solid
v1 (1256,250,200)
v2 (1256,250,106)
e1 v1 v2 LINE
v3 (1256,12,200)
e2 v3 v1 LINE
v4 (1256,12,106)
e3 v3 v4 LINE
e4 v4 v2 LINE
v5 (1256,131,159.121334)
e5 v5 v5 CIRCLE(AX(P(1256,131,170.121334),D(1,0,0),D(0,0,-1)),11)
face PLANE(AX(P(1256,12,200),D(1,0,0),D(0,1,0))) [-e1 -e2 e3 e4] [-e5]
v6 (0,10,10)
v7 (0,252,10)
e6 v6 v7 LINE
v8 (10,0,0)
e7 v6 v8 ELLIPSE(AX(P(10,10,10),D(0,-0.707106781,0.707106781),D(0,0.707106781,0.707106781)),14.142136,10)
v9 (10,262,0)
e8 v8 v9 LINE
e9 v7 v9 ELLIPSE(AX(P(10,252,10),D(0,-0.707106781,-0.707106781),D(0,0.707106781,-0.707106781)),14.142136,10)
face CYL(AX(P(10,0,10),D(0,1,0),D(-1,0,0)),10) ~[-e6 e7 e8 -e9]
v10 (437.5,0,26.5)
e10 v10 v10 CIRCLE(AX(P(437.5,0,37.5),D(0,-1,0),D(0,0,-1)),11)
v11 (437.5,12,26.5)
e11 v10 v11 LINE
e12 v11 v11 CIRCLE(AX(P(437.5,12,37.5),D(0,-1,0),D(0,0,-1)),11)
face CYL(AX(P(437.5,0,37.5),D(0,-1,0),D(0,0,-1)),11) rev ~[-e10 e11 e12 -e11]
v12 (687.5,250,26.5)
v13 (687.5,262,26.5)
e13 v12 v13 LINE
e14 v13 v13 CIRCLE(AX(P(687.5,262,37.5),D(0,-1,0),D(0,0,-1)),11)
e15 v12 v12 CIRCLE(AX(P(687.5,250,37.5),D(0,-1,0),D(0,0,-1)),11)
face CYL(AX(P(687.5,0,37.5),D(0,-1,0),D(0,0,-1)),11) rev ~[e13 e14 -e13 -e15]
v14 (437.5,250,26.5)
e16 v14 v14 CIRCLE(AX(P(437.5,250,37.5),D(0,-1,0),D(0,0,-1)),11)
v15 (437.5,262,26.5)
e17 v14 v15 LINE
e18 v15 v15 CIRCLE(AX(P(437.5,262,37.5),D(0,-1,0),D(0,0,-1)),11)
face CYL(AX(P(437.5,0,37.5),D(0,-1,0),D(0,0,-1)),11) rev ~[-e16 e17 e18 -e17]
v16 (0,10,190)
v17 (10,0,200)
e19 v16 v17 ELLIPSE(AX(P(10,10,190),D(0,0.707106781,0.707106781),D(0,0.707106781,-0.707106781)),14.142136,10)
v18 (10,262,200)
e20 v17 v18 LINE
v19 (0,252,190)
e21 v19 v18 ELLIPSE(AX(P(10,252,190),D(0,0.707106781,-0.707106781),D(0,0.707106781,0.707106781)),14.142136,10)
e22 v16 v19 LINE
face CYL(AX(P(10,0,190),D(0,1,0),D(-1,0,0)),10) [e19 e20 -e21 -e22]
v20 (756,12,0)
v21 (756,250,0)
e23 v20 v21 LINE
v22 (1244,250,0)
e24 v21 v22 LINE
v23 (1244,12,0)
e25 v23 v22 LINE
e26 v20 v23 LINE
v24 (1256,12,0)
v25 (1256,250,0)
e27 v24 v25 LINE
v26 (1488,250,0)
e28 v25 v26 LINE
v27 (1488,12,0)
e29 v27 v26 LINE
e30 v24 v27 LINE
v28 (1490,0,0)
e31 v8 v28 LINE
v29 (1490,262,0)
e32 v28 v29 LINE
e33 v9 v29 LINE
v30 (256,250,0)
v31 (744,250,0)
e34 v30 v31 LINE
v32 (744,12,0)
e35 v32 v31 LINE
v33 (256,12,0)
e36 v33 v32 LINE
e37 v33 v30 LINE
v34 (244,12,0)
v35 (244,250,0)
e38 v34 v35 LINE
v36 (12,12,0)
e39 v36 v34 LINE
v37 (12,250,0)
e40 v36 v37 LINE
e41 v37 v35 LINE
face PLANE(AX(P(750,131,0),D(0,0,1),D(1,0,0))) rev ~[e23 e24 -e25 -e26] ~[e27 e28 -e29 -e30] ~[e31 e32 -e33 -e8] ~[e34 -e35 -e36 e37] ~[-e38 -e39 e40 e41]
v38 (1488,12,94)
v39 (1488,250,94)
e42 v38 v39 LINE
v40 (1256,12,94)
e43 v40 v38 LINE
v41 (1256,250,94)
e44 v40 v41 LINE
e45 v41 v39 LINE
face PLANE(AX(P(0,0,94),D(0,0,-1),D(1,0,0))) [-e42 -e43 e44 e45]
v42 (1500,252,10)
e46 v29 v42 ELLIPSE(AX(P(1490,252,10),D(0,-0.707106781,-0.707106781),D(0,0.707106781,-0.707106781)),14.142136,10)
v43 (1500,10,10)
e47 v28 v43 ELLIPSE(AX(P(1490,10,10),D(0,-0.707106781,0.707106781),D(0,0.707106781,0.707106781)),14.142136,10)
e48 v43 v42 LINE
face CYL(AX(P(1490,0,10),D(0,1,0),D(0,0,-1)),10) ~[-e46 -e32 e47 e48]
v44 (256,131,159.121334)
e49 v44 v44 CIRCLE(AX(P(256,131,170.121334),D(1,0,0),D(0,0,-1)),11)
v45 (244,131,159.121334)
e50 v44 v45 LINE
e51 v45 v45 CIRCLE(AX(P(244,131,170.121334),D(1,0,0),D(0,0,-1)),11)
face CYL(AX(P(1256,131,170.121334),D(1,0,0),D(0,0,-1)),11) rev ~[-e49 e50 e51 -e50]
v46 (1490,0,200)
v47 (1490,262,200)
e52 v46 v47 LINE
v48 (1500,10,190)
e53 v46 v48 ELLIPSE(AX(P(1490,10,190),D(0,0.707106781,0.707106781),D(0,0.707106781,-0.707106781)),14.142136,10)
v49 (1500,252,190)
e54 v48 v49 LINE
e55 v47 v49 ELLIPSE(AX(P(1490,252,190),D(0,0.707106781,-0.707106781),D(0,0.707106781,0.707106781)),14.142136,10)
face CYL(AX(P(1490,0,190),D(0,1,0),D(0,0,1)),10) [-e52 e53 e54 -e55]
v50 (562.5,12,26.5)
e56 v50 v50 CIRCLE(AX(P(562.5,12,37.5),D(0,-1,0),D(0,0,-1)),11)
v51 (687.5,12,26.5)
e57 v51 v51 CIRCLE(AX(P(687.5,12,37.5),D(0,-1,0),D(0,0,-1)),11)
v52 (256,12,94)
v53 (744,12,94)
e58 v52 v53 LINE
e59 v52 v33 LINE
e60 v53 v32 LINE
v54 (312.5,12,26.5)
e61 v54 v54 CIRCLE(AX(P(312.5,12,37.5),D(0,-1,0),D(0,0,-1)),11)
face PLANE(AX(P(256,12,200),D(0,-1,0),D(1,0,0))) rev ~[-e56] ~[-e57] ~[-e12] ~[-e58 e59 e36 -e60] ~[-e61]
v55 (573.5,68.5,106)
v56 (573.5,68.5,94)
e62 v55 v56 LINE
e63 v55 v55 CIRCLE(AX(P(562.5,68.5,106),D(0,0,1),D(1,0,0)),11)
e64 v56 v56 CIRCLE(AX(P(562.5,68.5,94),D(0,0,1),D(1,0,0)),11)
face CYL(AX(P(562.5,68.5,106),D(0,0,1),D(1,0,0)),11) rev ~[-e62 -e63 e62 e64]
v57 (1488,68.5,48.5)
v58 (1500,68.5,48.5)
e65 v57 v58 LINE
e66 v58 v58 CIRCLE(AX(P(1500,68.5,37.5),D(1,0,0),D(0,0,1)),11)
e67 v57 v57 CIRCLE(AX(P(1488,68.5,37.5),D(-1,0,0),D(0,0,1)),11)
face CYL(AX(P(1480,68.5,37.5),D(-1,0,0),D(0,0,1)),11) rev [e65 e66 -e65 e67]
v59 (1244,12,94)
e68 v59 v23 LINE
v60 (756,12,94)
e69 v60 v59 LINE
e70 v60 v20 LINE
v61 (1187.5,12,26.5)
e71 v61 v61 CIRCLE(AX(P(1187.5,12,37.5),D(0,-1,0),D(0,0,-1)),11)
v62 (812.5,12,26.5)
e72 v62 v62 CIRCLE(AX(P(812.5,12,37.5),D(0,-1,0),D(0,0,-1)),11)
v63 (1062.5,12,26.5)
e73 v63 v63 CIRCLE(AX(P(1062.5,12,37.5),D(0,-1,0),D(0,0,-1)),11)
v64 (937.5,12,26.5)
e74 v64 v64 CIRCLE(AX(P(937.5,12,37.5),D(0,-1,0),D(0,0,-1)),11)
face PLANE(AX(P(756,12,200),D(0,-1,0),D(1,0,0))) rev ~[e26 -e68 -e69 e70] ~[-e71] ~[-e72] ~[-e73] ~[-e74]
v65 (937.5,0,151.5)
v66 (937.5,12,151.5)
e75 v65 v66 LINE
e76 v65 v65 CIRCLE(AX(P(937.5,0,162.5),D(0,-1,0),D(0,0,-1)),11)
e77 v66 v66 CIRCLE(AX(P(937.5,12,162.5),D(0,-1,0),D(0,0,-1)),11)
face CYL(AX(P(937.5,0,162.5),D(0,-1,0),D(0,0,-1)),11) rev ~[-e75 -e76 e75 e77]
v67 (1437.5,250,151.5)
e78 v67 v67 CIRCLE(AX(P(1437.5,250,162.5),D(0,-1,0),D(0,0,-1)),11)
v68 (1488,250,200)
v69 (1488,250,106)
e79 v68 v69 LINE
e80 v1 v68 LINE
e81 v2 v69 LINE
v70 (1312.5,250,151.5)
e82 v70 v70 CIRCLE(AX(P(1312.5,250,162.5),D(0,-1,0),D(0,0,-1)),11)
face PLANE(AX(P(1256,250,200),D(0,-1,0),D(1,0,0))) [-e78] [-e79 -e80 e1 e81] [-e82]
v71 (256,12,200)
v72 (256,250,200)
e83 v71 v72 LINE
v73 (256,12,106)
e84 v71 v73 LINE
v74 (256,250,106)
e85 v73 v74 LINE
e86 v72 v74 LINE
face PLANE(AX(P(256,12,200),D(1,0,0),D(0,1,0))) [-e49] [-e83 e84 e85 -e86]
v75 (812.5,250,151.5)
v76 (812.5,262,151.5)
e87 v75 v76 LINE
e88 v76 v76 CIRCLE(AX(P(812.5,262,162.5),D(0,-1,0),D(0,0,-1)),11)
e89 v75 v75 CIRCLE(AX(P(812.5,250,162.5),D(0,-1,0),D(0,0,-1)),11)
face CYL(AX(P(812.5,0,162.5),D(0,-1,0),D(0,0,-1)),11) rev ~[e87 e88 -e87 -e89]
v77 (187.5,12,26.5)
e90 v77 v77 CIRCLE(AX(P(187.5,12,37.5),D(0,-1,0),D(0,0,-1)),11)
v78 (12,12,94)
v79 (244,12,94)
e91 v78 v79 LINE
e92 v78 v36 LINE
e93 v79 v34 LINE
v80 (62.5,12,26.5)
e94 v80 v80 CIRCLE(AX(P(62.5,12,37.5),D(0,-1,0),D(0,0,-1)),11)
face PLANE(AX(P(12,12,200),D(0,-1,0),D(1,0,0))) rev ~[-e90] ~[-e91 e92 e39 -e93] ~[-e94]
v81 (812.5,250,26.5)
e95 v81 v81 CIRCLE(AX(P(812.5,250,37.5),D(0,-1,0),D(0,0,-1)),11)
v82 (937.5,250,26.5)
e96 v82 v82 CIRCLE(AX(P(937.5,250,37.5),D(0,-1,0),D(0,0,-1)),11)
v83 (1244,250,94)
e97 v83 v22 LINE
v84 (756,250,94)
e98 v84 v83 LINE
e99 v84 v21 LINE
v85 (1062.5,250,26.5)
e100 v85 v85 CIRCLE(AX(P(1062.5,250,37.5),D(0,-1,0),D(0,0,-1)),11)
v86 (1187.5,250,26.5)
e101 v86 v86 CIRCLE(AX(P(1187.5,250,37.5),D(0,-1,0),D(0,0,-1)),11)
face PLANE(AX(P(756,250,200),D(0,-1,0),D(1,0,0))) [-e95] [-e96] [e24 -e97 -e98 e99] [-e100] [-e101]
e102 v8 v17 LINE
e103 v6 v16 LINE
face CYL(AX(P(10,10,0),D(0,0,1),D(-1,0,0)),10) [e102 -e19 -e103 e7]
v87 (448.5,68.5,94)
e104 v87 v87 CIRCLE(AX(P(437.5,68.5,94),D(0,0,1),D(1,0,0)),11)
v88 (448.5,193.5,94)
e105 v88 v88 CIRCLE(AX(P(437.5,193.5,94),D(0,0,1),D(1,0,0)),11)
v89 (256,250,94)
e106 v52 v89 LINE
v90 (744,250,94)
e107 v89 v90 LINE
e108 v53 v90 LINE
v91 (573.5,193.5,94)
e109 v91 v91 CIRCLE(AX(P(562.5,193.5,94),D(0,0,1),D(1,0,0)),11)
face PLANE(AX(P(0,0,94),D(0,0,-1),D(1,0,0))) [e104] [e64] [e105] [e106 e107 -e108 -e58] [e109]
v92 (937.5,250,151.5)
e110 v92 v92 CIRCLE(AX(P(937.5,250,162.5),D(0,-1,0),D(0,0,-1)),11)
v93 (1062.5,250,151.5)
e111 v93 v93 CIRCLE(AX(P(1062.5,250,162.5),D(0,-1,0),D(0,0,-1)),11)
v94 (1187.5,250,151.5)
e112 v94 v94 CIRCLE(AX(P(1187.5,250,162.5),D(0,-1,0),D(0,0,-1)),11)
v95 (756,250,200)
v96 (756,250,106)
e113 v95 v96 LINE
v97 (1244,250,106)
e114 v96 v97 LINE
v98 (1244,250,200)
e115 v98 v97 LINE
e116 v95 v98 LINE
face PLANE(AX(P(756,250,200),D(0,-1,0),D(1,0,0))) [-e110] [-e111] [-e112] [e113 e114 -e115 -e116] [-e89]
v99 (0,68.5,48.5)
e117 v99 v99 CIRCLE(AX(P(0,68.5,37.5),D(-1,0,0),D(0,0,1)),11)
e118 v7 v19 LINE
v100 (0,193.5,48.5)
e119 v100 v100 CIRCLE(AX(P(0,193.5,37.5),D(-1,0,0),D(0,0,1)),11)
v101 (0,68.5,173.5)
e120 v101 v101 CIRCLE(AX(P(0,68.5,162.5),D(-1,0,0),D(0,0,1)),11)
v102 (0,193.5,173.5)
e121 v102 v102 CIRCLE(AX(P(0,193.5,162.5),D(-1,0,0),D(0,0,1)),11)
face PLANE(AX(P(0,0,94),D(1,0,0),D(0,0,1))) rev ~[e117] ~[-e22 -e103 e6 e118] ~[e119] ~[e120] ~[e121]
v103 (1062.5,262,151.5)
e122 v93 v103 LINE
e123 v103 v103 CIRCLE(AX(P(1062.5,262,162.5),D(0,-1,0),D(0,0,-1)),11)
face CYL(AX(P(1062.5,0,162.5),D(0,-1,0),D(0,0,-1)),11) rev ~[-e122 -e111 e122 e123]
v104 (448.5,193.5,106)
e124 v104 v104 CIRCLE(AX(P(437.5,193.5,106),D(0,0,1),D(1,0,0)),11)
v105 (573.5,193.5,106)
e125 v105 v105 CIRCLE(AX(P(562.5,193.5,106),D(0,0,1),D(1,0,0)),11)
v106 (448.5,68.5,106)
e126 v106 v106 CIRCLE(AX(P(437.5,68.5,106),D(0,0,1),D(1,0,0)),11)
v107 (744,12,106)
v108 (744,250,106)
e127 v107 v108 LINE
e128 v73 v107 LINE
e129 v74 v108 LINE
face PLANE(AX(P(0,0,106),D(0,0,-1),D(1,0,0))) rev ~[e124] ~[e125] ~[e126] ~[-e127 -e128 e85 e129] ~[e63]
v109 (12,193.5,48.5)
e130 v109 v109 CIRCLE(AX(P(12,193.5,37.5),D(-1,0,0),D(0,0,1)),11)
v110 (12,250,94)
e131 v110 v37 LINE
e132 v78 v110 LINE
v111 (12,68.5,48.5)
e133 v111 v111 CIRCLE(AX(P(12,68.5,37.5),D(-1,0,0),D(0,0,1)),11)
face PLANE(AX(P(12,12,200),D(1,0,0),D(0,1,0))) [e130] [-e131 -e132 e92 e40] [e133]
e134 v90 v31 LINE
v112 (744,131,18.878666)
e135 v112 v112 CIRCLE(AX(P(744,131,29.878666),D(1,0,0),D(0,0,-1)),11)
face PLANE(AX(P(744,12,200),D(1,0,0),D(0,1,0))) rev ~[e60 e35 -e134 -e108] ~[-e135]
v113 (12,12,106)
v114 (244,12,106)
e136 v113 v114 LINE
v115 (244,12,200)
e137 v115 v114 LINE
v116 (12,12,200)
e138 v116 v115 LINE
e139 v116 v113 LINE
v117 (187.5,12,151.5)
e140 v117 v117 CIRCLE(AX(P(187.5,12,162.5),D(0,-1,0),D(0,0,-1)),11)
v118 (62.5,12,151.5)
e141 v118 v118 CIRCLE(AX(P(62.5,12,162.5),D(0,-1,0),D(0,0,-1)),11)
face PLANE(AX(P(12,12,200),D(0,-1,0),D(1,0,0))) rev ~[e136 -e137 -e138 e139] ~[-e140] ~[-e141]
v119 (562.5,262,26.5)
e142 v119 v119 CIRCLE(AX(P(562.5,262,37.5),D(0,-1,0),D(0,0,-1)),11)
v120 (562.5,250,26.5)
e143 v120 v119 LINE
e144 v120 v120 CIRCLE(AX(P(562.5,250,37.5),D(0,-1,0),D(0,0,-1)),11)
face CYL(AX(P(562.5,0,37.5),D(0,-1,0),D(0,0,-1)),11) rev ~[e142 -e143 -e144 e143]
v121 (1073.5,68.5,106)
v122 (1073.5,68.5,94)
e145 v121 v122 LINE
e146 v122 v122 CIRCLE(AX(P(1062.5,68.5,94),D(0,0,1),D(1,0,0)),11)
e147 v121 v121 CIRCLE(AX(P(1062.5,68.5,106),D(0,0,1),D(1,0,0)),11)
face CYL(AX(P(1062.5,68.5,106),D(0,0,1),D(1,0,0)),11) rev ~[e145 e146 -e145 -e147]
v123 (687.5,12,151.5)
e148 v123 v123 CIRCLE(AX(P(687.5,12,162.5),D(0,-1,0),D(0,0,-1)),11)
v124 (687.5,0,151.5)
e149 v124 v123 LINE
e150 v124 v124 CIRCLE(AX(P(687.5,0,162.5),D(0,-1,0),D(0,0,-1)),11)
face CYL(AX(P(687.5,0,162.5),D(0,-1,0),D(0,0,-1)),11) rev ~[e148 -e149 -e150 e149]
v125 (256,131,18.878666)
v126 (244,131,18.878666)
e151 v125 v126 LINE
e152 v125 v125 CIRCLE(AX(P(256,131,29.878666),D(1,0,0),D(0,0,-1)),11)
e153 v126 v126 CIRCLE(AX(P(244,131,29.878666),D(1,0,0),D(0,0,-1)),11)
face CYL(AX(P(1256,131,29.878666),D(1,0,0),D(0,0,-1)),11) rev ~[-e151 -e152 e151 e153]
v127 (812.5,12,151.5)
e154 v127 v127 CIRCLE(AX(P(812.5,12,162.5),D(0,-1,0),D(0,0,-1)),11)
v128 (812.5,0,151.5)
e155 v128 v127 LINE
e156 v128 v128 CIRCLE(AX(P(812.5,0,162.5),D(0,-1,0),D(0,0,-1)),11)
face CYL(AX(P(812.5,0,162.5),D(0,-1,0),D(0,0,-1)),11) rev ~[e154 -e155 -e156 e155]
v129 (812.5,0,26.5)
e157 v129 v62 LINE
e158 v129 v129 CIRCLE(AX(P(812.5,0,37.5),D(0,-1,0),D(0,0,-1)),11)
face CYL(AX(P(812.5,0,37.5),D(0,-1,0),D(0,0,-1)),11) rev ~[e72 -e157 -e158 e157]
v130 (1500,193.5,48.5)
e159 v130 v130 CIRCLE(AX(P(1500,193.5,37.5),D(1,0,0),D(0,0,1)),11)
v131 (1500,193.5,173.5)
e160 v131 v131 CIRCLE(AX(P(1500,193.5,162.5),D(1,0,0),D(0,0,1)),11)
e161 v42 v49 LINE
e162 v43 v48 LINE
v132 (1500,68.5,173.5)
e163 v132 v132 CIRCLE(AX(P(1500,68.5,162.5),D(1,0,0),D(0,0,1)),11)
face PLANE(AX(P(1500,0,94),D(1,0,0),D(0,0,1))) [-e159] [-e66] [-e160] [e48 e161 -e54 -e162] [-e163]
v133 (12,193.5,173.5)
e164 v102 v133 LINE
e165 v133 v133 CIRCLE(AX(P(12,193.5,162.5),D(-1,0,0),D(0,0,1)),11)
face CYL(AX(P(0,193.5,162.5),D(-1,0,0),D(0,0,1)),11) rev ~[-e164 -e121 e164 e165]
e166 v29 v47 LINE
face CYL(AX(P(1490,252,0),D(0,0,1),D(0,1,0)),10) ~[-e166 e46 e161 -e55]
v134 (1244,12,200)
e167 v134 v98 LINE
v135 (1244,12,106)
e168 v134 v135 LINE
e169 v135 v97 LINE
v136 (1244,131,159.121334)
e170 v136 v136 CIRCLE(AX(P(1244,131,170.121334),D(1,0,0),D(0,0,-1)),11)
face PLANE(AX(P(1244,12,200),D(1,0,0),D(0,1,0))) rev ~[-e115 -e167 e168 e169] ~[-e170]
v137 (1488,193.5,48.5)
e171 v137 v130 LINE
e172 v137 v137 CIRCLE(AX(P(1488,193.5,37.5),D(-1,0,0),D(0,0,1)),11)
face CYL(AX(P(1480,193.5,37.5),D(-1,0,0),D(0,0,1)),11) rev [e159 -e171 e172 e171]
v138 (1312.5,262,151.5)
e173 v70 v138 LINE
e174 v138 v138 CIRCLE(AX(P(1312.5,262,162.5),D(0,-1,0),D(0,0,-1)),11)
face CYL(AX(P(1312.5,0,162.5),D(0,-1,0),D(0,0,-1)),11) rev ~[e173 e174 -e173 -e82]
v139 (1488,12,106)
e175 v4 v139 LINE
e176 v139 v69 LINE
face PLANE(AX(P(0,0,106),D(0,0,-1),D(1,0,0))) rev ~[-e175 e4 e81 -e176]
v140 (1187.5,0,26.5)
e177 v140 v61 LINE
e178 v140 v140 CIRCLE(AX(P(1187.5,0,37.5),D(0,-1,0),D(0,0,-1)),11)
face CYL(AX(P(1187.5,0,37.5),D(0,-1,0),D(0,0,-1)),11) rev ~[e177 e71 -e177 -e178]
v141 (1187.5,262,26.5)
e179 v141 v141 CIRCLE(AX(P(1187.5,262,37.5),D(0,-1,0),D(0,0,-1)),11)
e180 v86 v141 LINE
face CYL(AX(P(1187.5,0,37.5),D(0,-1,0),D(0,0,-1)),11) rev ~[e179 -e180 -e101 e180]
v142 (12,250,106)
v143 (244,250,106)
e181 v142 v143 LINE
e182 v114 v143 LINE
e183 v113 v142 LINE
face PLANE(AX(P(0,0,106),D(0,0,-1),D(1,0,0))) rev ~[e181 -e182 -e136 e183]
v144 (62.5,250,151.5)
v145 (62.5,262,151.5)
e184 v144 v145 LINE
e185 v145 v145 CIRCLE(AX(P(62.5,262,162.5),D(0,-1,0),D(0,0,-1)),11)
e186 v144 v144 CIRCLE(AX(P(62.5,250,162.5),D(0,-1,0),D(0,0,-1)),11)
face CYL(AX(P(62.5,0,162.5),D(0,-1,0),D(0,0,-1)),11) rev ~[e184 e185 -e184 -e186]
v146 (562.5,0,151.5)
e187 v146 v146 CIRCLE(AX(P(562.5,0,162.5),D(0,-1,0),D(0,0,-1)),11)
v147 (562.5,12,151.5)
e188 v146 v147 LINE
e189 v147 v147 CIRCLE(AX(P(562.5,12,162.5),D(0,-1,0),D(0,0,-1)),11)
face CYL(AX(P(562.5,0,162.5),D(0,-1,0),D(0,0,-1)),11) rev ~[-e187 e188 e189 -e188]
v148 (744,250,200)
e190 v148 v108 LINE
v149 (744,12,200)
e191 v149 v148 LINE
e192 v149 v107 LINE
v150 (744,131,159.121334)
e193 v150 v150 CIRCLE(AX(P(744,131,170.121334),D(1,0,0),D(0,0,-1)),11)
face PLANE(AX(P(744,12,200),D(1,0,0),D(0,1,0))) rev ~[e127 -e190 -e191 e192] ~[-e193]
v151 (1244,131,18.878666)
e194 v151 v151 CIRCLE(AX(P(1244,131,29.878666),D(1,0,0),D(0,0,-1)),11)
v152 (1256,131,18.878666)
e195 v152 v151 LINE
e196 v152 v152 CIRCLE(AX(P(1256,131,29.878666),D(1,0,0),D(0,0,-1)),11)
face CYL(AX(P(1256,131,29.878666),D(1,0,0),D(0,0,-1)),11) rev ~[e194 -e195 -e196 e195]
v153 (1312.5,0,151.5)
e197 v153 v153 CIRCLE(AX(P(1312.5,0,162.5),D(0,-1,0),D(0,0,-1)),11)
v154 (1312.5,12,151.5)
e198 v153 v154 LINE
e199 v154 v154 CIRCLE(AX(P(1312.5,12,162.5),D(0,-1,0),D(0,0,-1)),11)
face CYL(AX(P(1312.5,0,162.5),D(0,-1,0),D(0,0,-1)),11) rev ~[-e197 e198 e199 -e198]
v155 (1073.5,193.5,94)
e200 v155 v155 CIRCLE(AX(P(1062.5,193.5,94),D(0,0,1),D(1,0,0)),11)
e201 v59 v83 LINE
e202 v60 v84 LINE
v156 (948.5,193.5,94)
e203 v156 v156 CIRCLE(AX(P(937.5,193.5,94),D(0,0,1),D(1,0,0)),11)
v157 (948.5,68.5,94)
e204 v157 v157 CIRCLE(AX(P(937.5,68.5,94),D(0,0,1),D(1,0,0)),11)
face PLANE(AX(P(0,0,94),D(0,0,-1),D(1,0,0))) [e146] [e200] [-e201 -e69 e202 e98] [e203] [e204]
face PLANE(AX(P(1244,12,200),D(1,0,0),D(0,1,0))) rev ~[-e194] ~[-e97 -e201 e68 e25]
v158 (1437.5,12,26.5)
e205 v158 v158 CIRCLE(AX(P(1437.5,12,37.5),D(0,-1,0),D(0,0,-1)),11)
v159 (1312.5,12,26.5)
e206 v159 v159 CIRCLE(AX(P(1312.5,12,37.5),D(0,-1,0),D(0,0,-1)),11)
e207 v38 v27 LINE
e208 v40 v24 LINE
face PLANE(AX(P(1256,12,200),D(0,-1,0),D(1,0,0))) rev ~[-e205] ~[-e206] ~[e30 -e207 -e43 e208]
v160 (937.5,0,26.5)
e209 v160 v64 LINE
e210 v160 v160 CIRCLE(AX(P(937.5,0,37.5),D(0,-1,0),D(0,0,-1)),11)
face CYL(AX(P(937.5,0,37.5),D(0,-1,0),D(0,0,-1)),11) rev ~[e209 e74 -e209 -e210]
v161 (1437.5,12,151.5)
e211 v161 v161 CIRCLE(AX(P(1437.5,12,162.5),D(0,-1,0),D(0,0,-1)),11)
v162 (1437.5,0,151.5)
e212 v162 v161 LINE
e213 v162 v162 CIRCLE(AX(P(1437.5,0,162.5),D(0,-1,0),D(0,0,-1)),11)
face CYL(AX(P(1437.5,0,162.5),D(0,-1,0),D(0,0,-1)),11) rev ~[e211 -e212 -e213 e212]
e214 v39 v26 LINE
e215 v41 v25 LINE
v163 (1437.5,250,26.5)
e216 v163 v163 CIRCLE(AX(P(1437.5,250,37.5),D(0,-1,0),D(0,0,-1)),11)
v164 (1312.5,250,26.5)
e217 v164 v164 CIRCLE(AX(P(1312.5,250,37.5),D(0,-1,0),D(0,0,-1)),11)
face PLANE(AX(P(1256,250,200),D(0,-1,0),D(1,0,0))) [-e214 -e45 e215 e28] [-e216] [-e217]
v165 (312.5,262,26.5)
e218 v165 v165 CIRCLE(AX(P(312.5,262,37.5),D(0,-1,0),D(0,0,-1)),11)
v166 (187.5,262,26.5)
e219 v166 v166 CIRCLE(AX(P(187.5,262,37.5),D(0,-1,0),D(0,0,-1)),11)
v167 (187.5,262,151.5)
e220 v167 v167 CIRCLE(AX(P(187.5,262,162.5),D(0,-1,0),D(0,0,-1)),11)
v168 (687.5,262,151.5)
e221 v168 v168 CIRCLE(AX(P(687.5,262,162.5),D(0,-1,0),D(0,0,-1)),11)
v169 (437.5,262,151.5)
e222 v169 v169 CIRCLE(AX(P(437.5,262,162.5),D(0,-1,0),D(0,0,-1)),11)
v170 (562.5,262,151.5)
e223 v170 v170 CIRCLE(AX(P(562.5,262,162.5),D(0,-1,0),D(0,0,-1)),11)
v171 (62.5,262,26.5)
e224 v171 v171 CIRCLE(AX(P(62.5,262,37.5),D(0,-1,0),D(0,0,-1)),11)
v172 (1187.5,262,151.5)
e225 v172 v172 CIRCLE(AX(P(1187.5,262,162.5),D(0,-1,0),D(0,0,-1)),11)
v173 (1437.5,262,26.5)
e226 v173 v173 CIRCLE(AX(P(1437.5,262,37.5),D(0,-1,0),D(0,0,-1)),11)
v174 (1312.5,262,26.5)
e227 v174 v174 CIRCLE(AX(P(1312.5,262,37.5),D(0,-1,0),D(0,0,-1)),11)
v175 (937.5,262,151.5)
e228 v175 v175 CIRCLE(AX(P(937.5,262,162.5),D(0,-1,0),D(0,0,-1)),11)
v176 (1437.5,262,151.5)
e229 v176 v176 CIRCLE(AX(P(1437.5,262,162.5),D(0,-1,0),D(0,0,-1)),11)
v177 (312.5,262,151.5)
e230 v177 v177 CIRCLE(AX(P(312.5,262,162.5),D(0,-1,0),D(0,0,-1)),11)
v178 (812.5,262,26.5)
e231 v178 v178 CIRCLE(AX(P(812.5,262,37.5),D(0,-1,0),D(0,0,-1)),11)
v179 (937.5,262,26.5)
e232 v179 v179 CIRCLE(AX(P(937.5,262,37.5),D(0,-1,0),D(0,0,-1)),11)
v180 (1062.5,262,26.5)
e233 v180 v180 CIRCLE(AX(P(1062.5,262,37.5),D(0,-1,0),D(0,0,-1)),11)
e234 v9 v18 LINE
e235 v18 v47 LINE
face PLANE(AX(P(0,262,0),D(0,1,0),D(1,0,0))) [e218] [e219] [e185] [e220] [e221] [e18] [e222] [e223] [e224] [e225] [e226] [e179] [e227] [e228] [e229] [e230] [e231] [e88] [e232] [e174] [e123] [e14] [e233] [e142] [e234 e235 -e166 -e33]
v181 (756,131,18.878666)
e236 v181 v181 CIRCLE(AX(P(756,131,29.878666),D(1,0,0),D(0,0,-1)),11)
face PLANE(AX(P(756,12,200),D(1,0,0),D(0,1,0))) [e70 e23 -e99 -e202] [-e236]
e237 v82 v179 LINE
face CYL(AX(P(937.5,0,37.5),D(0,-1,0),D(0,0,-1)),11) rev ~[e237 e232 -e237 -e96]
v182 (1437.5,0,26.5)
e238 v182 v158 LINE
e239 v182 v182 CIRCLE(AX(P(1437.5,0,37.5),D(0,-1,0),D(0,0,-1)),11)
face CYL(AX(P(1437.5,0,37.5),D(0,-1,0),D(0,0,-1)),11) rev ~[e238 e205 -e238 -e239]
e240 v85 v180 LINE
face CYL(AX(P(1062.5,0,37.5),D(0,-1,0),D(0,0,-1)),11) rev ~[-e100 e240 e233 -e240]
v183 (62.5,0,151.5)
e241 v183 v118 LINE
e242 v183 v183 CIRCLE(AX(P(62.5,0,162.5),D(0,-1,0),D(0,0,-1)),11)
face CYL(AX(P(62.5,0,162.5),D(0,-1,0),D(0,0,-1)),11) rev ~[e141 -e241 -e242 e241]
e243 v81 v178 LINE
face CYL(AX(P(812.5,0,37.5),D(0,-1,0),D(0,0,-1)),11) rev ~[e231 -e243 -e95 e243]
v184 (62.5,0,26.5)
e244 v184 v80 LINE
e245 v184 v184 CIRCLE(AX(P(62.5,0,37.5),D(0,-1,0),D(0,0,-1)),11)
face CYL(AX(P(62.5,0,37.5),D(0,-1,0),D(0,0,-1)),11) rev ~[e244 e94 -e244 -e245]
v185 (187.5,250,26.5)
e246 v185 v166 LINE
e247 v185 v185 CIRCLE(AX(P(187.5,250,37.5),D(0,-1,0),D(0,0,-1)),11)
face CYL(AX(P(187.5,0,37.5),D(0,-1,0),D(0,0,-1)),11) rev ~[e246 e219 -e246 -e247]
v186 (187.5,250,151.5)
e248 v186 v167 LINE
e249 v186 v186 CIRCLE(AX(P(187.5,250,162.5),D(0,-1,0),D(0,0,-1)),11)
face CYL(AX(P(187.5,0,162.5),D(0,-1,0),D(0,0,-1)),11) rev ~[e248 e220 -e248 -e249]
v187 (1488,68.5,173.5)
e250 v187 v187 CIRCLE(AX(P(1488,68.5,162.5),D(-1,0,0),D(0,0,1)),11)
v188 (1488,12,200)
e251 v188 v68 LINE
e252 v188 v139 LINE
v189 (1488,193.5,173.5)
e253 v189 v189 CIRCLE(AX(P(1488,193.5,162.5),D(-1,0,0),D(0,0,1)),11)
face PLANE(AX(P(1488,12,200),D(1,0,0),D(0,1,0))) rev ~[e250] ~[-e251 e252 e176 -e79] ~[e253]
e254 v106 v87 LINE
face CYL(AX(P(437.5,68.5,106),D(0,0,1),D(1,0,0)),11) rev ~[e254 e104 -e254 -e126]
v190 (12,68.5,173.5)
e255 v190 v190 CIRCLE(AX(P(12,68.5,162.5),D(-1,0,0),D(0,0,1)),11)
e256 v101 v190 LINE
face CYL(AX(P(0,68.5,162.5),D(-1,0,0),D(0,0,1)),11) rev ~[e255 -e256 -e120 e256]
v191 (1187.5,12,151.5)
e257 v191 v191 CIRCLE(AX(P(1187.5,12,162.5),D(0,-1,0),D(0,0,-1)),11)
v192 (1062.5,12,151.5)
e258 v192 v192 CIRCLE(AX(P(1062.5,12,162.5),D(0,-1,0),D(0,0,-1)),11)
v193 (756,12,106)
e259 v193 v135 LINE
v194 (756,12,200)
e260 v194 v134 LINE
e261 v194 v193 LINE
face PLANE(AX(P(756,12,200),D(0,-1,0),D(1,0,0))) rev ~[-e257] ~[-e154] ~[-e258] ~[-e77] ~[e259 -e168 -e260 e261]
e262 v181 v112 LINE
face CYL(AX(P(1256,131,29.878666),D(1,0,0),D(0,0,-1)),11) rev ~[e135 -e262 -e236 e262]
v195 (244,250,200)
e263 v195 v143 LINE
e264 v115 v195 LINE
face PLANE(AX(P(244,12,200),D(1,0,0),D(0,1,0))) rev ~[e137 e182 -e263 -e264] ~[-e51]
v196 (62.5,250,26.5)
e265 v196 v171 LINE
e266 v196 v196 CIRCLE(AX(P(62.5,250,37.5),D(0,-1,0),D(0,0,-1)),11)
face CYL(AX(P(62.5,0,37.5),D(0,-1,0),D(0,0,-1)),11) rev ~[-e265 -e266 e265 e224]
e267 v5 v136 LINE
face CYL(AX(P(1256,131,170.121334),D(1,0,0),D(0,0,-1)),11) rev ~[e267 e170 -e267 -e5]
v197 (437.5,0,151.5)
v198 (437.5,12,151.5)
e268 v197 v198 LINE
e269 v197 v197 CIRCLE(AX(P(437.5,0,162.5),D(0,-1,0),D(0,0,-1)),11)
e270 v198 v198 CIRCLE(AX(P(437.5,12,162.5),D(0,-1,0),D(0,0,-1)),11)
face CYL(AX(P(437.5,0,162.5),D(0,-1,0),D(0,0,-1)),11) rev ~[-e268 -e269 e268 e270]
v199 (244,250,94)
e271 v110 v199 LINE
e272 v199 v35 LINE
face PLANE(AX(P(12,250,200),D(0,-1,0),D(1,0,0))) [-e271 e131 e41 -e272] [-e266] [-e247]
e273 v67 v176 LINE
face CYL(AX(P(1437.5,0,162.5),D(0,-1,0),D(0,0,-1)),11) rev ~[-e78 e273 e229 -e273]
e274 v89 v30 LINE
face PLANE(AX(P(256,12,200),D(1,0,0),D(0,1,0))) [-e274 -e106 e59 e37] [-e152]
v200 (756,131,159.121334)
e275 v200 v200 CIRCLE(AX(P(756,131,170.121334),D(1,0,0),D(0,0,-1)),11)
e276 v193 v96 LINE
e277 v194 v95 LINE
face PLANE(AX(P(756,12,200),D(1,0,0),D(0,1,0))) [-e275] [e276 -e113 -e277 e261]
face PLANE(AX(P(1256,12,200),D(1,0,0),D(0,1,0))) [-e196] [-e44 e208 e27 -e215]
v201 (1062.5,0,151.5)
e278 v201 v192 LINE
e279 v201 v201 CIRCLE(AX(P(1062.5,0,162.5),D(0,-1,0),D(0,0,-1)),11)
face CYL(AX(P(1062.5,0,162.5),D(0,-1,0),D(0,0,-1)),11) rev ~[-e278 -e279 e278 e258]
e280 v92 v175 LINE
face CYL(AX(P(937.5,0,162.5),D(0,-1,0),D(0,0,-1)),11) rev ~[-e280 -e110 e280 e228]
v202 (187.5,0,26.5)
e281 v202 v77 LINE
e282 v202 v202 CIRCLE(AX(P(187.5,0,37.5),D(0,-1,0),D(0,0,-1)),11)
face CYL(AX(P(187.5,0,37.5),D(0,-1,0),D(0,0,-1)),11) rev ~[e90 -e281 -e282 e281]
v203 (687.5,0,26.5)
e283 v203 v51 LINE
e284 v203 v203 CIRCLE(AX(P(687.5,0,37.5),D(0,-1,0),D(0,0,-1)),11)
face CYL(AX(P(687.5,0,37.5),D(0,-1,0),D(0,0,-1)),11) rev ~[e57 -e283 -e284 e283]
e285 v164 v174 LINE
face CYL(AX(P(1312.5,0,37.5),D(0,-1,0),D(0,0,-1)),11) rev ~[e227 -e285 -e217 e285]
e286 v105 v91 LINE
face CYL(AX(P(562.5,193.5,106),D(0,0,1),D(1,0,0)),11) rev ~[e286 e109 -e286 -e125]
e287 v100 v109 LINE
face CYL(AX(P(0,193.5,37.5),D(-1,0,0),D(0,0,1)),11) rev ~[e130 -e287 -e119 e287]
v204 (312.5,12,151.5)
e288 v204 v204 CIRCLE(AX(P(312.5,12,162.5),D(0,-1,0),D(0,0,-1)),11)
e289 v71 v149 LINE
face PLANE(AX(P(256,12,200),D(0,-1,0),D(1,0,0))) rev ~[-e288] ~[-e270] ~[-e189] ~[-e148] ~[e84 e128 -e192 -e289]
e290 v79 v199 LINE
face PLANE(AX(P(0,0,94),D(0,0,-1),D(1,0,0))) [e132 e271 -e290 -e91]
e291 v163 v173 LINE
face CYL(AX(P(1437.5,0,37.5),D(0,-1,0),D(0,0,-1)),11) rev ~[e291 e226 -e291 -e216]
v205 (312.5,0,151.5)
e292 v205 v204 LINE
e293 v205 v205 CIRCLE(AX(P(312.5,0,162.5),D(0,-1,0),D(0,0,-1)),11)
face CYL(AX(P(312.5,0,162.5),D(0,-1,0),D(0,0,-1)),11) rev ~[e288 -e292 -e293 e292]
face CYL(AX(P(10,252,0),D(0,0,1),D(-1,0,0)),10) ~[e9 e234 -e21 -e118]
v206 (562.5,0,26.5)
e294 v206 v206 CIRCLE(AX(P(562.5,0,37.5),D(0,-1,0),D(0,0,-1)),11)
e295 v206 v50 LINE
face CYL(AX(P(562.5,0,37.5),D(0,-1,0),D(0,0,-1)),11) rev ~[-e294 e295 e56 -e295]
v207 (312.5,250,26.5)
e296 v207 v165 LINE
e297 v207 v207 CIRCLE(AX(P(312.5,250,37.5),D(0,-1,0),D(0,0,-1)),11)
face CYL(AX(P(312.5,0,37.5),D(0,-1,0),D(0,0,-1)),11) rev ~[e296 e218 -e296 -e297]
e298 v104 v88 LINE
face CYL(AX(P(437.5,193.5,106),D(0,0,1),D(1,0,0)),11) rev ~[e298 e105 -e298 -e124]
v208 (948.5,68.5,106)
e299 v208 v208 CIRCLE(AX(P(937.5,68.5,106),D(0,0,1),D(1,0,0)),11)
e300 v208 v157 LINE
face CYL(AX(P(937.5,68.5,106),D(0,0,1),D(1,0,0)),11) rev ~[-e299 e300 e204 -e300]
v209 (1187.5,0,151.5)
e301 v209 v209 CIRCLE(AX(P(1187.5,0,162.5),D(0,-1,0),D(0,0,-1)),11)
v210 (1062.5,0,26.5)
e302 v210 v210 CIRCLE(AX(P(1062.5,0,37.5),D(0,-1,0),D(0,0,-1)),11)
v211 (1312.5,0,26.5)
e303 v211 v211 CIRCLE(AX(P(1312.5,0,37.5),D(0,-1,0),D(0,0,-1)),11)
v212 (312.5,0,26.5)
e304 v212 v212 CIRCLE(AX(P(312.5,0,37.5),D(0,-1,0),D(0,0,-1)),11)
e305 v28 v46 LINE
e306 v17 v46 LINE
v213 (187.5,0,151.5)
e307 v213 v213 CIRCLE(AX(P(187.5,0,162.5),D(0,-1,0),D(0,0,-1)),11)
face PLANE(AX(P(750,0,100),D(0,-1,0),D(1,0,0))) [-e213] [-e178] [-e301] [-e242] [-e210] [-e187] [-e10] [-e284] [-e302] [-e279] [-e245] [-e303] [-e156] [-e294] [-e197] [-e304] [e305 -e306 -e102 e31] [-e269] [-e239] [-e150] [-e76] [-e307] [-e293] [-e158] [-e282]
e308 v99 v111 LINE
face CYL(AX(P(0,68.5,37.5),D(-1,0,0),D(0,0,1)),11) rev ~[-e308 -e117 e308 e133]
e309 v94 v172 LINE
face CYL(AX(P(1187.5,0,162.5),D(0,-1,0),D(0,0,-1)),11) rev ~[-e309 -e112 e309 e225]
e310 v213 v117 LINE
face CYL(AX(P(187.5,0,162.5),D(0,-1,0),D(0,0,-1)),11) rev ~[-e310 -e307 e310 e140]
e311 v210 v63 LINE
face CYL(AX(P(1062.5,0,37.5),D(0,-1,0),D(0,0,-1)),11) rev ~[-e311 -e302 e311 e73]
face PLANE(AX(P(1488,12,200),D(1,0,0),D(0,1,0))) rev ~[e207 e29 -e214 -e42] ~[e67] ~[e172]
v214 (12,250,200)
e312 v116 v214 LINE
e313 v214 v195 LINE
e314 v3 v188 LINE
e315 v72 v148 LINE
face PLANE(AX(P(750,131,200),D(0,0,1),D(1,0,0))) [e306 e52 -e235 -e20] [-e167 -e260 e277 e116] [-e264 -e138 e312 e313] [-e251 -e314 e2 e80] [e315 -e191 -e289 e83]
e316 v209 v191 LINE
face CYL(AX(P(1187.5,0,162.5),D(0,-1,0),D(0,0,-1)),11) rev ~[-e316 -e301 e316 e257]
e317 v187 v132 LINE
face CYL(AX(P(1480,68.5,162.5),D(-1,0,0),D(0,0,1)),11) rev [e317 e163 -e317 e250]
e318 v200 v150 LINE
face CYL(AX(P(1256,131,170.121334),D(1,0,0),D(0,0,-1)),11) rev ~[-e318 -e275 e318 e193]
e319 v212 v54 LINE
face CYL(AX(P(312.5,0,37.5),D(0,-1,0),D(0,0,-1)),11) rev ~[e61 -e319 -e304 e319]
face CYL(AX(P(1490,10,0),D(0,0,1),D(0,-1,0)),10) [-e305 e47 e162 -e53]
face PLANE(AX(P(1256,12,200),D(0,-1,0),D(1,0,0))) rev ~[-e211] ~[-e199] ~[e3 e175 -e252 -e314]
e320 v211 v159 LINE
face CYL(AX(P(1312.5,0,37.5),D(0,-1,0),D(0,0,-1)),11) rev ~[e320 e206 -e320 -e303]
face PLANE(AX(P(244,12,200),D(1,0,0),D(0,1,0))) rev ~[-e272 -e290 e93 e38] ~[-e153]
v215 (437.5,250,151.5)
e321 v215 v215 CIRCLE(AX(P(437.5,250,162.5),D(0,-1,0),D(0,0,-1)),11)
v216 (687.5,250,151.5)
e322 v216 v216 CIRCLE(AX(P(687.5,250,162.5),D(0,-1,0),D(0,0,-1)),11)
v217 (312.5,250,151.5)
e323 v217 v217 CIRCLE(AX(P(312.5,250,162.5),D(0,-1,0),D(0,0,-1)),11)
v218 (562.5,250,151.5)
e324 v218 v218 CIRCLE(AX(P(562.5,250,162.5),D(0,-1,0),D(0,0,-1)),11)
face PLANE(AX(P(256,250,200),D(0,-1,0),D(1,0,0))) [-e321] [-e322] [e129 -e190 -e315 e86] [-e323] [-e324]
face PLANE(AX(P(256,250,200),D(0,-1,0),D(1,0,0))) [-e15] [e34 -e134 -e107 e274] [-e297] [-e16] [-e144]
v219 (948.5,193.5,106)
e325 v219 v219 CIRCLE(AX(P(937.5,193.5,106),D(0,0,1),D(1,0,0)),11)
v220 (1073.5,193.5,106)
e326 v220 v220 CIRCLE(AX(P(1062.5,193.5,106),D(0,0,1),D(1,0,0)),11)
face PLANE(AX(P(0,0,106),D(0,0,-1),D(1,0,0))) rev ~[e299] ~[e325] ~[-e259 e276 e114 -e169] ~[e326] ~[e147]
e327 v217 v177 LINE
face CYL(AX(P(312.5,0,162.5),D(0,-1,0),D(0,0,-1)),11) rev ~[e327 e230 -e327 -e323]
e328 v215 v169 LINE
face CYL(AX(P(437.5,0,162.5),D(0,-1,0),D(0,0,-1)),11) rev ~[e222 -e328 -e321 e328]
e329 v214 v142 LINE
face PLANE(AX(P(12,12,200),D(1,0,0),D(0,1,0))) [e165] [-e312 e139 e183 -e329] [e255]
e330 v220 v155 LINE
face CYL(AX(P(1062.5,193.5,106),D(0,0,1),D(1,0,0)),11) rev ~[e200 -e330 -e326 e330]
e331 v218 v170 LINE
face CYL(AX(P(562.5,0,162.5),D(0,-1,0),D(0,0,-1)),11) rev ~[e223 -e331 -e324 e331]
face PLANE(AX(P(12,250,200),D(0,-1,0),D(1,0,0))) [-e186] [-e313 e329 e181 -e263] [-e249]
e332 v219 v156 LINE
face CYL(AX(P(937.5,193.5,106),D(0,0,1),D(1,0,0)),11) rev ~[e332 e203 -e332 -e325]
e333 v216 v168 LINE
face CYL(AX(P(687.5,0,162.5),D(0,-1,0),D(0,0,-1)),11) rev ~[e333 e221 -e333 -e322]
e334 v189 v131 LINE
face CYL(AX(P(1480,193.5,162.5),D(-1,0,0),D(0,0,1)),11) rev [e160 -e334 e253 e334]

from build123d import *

# Parameters (mm, degrees)
SKETCH_1_W                        = 1500
SKETCH_1_H                        = 262
EXTRUDE_1_DEPTH                   = 200
SKETCH_5_W                        = 232
SKETCH_5_H                        = 238
SKETCH_5_W_2                      = 488
CUT_EXTRUDE_10_DEPTH              = 1536.787745751
SKETCH_7_W                        = 1500
SKETCH_7_H                        = 12
EXTRUDE_13_DEPTH                  = 260
SKETCH_8_R                        = 11
CUT_EXTRUDE_14_DEPTH              = 1536.787745751
PATTERN_LINEAR_3_COUNT            = 12
PATTERN_LINEAR_3_PITCH            = 125
PATTERN_LINEAR_3_COUNT_DIR2       = 2
PATTERN_LINEAR_3_PITCH_DIR2       = 125
SKETCH_10_R                       = 11
CUT_EXTRUDE_16_DEPTH              = 20
PATTERN_LINEAR_5_COUNT            = 2
PATTERN_LINEAR_5_PITCH            = 125
PATTERN_LINEAR_5_COUNT_DIR2       = 2
PATTERN_LINEAR_5_PITCH_DIR2       = 125
CUT_EXTRUDE_START                 = -20
SKETCH_11_R                       = 11
CUT_EXTRUDE_17_DEPTH              = 20
PATTERN_LINEAR_6_COUNT            = 2
PATTERN_LINEAR_6_PITCH            = 125
PATTERN_LINEAR_6_COUNT_DIR2       = 2
PATTERN_LINEAR_6_PITCH_DIR2       = 125
SKETCH_12_R                       = 11
CUT_EXTRUDE_18_DEPTH              = 1050
PATTERN_LINEAR_8_COUNT            = 2
PATTERN_LINEAR_8_PITCH            = 140.2426687
FILLET_1_R                        = 10
FILLET_2_R                        = 10
SKETCH_13_R                       = 11
CUT_EXTRUDE_19_DEPTH              = 1527.394444434
PATTERN_LINEAR_9_COUNT            = 2
PATTERN_LINEAR_9_PITCH            = 125
PATTERN_LINEAR_9_COUNT_DIR2       = 2
PATTERN_LINEAR_9_PITCH_DIR2       = 125
PATTERN_LINEAR_10_COUNT           = 2
PATTERN_LINEAR_10_PITCH           = 500
PATTERN_LINEAR_10_COPY_1_SKETCH_R = 11
PATTERN_LINEAR_10_COPY_1_DEPTH    = 1527.394444434
PATTERN_LINEAR_10_COPY_2_SKETCH_R = 11
PATTERN_LINEAR_10_COPY_2_DEPTH    = 1527.394444434
PATTERN_LINEAR_10_COPY_3_SKETCH_R = 11
PATTERN_LINEAR_10_COPY_3_DEPTH    = 1527.394444434


with BuildPart() as part:
    # 草图1 → 拉伸1 (new body)
    with BuildSketch(Plane.XY):
        with Locations((750, 131)):
            Rectangle(SKETCH_1_W, SKETCH_1_H)
    extrude(amount=EXTRUDE_1_DEPTH)

    # 草图5 → 拉伸10 (cut, through all)
    with BuildSketch(Plane.XY.offset(200)):
        with Locations((128, 131)):
            Rectangle(SKETCH_5_W, SKETCH_5_H)
        with Locations((500, 131)):
            Rectangle(SKETCH_5_W_2, SKETCH_5_H)
        with Locations((1000, 131)):
            Rectangle(SKETCH_5_W_2, SKETCH_5_H)
        with Locations((1372, 131)):
            Rectangle(SKETCH_5_W, SKETCH_5_H)
    extrude(amount=-CUT_EXTRUDE_10_DEPTH, mode=Mode.SUBTRACT)

    # 草图7 → 拉伸13 (add)
    with BuildSketch(Plane.XZ):
        with Locations((750, 100)):
            Rectangle(SKETCH_7_W, SKETCH_7_H)
    extrude(amount=-EXTRUDE_13_DEPTH)

    # 草图8 → 拉伸14 (cut, through all)
    with BuildSketch(Plane.XZ):
        with Locations(Location((62.5, 37.5, 0), (0, 0, 270))):
            Circle(SKETCH_8_R)
    cut_extrude_14 = extrude(amount=-CUT_EXTRUDE_14_DEPTH, mode=Mode.SUBTRACT)

    # 阵列(线性)3: Cut-Extrude 14 12 × 2
    with Locations(*[(i * PATTERN_LINEAR_3_PITCH, 0, j * PATTERN_LINEAR_3_PITCH_DIR2) for i in range(PATTERN_LINEAR_3_COUNT) for j in range(PATTERN_LINEAR_3_COUNT_DIR2) if (i, j) != (0, 0)]):
        add(cut_extrude_14, mode=Mode.SUBTRACT)

    # 草图10 → 拉伸16 (cut)
    with BuildSketch(Plane.ZY):
        with Locations((37.5, 68.5)):
            Circle(SKETCH_10_R)
    cut_extrude_16 = extrude(amount=-CUT_EXTRUDE_16_DEPTH, mode=Mode.SUBTRACT)

    # 阵列(线性)5: Cut-Extrude 16 2 × 2
    with Locations(*[(0, j * PATTERN_LINEAR_5_PITCH_DIR2, i * PATTERN_LINEAR_5_PITCH) for i in range(PATTERN_LINEAR_5_COUNT) for j in range(PATTERN_LINEAR_5_COUNT_DIR2) if (i, j) != (0, 0)]):
        add(cut_extrude_16, mode=Mode.SUBTRACT)

    # 草图11 → 拉伸17 (cut)
    with BuildSketch(Plane(origin=(1500, 0, 0), x_dir=(0, 0, -1), z_dir=(1, 0, 0)).offset(CUT_EXTRUDE_START)):
        with Locations(Location((-162.5, 68.5, 0), (0, 0, 180))):
            Circle(SKETCH_11_R)
    cut_extrude_17 = extrude(amount=CUT_EXTRUDE_17_DEPTH, mode=Mode.SUBTRACT)

    # 阵列(线性)6: Cut-Extrude 17 2 × 2
    with Locations(*[(0, j * PATTERN_LINEAR_6_PITCH_DIR2, -i * PATTERN_LINEAR_6_PITCH) for i in range(PATTERN_LINEAR_6_COUNT) for j in range(PATTERN_LINEAR_6_COUNT_DIR2) if (i, j) != (0, 0)]):
        add(cut_extrude_17, mode=Mode.SUBTRACT)

    # 草图12 → 拉伸18 (cut)
    with BuildSketch(Plane(origin=(1256, 0, 0), x_dir=(0, 0, -1), z_dir=(1, 0, 0))):
        with Locations((-170.12133435, 131)):
            Circle(SKETCH_12_R)
    cut_extrude_18 = extrude(amount=-CUT_EXTRUDE_18_DEPTH, mode=Mode.SUBTRACT)

    # 阵列(线性)8: 拉伸18 ×2
    with Locations(*[(0, 0, -i * PATTERN_LINEAR_8_PITCH) for i in range(1, PATTERN_LINEAR_8_COUNT)]):
        add(cut_extrude_18, mode=Mode.SUBTRACT)

    # 圆角1
    fillet_1_edges = [part.edges().sort_by_distance(p)[0] for p in [
        (0, 131, 200),
        (0, 131, 0),
        (0, 262, 100),
        (0, 0, 100),
    ]]
    fillet(fillet_1_edges, radius=FILLET_1_R)

    # 圆角2
    fillet_2_edges = [part.edges().sort_by_distance(p)[0] for p in [
        (1500, 131, 200),
        (1500, 131, 0),
        (1500, 262, 100),
        (1500, 0, 100),
    ]]
    fillet(fillet_2_edges, radius=FILLET_2_R)

    # 草图13 → 拉伸19 (cut, through all)
    with BuildSketch(Plane.XY.offset(106)):
        with Locations((437.5, 68.5)):
            Circle(SKETCH_13_R)
    cut_extrude_19 = extrude(amount=-CUT_EXTRUDE_19_DEPTH, mode=Mode.SUBTRACT)

    # 阵列(线性)9: Cut-Extrude 19 2 × 2
    with Locations(*[(i * PATTERN_LINEAR_9_PITCH, j * PATTERN_LINEAR_9_PITCH_DIR2, 0) for i in range(PATTERN_LINEAR_9_COUNT) for j in range(PATTERN_LINEAR_9_COUNT_DIR2) if (i, j) != (0, 0)]):
        add(cut_extrude_19, mode=Mode.SUBTRACT)

    # 阵列(线性)10: 拉伸19 ×2
    with Locations(*[(i * PATTERN_LINEAR_10_PITCH, 0, 0) for i in range(1, PATTERN_LINEAR_10_COUNT)]):
        add(cut_extrude_19, mode=Mode.SUBTRACT)

    # 阵列(线性)10 copy 1 sketch → 阵列(线性)10 copy 1 (cut, through all)
    with BuildSketch(Plane(origin=(500, 125, 106), x_dir=(1, 0, 0), z_dir=(0, 0, 1))):
        with Locations((437.5, 68.5)):
            Circle(PATTERN_LINEAR_10_COPY_1_SKETCH_R)
    extrude(amount=-PATTERN_LINEAR_10_COPY_1_DEPTH, mode=Mode.SUBTRACT)

    # 阵列(线性)10 copy 2 sketch → 阵列(线性)10 copy 2 (cut, through all)
    with BuildSketch(Plane(origin=(625, 0, 106), x_dir=(1, 0, 0), z_dir=(0, 0, 1))):
        with Locations((437.5, 68.5)):
            Circle(PATTERN_LINEAR_10_COPY_2_SKETCH_R)
    extrude(amount=-PATTERN_LINEAR_10_COPY_2_DEPTH, mode=Mode.SUBTRACT)

    # 阵列(线性)10 copy 3 sketch → 阵列(线性)10 copy 3 (cut, through all)
    with BuildSketch(Plane(origin=(625, 125, 106), x_dir=(1, 0, 0), z_dir=(0, 0, 1))):
        with Locations((437.5, 68.5)):
            Circle(PATTERN_LINEAR_10_COPY_3_SKETCH_R)
    extrude(amount=-PATTERN_LINEAR_10_COPY_3_DEPTH, mode=Mode.SUBTRACT)


solid = part.part
